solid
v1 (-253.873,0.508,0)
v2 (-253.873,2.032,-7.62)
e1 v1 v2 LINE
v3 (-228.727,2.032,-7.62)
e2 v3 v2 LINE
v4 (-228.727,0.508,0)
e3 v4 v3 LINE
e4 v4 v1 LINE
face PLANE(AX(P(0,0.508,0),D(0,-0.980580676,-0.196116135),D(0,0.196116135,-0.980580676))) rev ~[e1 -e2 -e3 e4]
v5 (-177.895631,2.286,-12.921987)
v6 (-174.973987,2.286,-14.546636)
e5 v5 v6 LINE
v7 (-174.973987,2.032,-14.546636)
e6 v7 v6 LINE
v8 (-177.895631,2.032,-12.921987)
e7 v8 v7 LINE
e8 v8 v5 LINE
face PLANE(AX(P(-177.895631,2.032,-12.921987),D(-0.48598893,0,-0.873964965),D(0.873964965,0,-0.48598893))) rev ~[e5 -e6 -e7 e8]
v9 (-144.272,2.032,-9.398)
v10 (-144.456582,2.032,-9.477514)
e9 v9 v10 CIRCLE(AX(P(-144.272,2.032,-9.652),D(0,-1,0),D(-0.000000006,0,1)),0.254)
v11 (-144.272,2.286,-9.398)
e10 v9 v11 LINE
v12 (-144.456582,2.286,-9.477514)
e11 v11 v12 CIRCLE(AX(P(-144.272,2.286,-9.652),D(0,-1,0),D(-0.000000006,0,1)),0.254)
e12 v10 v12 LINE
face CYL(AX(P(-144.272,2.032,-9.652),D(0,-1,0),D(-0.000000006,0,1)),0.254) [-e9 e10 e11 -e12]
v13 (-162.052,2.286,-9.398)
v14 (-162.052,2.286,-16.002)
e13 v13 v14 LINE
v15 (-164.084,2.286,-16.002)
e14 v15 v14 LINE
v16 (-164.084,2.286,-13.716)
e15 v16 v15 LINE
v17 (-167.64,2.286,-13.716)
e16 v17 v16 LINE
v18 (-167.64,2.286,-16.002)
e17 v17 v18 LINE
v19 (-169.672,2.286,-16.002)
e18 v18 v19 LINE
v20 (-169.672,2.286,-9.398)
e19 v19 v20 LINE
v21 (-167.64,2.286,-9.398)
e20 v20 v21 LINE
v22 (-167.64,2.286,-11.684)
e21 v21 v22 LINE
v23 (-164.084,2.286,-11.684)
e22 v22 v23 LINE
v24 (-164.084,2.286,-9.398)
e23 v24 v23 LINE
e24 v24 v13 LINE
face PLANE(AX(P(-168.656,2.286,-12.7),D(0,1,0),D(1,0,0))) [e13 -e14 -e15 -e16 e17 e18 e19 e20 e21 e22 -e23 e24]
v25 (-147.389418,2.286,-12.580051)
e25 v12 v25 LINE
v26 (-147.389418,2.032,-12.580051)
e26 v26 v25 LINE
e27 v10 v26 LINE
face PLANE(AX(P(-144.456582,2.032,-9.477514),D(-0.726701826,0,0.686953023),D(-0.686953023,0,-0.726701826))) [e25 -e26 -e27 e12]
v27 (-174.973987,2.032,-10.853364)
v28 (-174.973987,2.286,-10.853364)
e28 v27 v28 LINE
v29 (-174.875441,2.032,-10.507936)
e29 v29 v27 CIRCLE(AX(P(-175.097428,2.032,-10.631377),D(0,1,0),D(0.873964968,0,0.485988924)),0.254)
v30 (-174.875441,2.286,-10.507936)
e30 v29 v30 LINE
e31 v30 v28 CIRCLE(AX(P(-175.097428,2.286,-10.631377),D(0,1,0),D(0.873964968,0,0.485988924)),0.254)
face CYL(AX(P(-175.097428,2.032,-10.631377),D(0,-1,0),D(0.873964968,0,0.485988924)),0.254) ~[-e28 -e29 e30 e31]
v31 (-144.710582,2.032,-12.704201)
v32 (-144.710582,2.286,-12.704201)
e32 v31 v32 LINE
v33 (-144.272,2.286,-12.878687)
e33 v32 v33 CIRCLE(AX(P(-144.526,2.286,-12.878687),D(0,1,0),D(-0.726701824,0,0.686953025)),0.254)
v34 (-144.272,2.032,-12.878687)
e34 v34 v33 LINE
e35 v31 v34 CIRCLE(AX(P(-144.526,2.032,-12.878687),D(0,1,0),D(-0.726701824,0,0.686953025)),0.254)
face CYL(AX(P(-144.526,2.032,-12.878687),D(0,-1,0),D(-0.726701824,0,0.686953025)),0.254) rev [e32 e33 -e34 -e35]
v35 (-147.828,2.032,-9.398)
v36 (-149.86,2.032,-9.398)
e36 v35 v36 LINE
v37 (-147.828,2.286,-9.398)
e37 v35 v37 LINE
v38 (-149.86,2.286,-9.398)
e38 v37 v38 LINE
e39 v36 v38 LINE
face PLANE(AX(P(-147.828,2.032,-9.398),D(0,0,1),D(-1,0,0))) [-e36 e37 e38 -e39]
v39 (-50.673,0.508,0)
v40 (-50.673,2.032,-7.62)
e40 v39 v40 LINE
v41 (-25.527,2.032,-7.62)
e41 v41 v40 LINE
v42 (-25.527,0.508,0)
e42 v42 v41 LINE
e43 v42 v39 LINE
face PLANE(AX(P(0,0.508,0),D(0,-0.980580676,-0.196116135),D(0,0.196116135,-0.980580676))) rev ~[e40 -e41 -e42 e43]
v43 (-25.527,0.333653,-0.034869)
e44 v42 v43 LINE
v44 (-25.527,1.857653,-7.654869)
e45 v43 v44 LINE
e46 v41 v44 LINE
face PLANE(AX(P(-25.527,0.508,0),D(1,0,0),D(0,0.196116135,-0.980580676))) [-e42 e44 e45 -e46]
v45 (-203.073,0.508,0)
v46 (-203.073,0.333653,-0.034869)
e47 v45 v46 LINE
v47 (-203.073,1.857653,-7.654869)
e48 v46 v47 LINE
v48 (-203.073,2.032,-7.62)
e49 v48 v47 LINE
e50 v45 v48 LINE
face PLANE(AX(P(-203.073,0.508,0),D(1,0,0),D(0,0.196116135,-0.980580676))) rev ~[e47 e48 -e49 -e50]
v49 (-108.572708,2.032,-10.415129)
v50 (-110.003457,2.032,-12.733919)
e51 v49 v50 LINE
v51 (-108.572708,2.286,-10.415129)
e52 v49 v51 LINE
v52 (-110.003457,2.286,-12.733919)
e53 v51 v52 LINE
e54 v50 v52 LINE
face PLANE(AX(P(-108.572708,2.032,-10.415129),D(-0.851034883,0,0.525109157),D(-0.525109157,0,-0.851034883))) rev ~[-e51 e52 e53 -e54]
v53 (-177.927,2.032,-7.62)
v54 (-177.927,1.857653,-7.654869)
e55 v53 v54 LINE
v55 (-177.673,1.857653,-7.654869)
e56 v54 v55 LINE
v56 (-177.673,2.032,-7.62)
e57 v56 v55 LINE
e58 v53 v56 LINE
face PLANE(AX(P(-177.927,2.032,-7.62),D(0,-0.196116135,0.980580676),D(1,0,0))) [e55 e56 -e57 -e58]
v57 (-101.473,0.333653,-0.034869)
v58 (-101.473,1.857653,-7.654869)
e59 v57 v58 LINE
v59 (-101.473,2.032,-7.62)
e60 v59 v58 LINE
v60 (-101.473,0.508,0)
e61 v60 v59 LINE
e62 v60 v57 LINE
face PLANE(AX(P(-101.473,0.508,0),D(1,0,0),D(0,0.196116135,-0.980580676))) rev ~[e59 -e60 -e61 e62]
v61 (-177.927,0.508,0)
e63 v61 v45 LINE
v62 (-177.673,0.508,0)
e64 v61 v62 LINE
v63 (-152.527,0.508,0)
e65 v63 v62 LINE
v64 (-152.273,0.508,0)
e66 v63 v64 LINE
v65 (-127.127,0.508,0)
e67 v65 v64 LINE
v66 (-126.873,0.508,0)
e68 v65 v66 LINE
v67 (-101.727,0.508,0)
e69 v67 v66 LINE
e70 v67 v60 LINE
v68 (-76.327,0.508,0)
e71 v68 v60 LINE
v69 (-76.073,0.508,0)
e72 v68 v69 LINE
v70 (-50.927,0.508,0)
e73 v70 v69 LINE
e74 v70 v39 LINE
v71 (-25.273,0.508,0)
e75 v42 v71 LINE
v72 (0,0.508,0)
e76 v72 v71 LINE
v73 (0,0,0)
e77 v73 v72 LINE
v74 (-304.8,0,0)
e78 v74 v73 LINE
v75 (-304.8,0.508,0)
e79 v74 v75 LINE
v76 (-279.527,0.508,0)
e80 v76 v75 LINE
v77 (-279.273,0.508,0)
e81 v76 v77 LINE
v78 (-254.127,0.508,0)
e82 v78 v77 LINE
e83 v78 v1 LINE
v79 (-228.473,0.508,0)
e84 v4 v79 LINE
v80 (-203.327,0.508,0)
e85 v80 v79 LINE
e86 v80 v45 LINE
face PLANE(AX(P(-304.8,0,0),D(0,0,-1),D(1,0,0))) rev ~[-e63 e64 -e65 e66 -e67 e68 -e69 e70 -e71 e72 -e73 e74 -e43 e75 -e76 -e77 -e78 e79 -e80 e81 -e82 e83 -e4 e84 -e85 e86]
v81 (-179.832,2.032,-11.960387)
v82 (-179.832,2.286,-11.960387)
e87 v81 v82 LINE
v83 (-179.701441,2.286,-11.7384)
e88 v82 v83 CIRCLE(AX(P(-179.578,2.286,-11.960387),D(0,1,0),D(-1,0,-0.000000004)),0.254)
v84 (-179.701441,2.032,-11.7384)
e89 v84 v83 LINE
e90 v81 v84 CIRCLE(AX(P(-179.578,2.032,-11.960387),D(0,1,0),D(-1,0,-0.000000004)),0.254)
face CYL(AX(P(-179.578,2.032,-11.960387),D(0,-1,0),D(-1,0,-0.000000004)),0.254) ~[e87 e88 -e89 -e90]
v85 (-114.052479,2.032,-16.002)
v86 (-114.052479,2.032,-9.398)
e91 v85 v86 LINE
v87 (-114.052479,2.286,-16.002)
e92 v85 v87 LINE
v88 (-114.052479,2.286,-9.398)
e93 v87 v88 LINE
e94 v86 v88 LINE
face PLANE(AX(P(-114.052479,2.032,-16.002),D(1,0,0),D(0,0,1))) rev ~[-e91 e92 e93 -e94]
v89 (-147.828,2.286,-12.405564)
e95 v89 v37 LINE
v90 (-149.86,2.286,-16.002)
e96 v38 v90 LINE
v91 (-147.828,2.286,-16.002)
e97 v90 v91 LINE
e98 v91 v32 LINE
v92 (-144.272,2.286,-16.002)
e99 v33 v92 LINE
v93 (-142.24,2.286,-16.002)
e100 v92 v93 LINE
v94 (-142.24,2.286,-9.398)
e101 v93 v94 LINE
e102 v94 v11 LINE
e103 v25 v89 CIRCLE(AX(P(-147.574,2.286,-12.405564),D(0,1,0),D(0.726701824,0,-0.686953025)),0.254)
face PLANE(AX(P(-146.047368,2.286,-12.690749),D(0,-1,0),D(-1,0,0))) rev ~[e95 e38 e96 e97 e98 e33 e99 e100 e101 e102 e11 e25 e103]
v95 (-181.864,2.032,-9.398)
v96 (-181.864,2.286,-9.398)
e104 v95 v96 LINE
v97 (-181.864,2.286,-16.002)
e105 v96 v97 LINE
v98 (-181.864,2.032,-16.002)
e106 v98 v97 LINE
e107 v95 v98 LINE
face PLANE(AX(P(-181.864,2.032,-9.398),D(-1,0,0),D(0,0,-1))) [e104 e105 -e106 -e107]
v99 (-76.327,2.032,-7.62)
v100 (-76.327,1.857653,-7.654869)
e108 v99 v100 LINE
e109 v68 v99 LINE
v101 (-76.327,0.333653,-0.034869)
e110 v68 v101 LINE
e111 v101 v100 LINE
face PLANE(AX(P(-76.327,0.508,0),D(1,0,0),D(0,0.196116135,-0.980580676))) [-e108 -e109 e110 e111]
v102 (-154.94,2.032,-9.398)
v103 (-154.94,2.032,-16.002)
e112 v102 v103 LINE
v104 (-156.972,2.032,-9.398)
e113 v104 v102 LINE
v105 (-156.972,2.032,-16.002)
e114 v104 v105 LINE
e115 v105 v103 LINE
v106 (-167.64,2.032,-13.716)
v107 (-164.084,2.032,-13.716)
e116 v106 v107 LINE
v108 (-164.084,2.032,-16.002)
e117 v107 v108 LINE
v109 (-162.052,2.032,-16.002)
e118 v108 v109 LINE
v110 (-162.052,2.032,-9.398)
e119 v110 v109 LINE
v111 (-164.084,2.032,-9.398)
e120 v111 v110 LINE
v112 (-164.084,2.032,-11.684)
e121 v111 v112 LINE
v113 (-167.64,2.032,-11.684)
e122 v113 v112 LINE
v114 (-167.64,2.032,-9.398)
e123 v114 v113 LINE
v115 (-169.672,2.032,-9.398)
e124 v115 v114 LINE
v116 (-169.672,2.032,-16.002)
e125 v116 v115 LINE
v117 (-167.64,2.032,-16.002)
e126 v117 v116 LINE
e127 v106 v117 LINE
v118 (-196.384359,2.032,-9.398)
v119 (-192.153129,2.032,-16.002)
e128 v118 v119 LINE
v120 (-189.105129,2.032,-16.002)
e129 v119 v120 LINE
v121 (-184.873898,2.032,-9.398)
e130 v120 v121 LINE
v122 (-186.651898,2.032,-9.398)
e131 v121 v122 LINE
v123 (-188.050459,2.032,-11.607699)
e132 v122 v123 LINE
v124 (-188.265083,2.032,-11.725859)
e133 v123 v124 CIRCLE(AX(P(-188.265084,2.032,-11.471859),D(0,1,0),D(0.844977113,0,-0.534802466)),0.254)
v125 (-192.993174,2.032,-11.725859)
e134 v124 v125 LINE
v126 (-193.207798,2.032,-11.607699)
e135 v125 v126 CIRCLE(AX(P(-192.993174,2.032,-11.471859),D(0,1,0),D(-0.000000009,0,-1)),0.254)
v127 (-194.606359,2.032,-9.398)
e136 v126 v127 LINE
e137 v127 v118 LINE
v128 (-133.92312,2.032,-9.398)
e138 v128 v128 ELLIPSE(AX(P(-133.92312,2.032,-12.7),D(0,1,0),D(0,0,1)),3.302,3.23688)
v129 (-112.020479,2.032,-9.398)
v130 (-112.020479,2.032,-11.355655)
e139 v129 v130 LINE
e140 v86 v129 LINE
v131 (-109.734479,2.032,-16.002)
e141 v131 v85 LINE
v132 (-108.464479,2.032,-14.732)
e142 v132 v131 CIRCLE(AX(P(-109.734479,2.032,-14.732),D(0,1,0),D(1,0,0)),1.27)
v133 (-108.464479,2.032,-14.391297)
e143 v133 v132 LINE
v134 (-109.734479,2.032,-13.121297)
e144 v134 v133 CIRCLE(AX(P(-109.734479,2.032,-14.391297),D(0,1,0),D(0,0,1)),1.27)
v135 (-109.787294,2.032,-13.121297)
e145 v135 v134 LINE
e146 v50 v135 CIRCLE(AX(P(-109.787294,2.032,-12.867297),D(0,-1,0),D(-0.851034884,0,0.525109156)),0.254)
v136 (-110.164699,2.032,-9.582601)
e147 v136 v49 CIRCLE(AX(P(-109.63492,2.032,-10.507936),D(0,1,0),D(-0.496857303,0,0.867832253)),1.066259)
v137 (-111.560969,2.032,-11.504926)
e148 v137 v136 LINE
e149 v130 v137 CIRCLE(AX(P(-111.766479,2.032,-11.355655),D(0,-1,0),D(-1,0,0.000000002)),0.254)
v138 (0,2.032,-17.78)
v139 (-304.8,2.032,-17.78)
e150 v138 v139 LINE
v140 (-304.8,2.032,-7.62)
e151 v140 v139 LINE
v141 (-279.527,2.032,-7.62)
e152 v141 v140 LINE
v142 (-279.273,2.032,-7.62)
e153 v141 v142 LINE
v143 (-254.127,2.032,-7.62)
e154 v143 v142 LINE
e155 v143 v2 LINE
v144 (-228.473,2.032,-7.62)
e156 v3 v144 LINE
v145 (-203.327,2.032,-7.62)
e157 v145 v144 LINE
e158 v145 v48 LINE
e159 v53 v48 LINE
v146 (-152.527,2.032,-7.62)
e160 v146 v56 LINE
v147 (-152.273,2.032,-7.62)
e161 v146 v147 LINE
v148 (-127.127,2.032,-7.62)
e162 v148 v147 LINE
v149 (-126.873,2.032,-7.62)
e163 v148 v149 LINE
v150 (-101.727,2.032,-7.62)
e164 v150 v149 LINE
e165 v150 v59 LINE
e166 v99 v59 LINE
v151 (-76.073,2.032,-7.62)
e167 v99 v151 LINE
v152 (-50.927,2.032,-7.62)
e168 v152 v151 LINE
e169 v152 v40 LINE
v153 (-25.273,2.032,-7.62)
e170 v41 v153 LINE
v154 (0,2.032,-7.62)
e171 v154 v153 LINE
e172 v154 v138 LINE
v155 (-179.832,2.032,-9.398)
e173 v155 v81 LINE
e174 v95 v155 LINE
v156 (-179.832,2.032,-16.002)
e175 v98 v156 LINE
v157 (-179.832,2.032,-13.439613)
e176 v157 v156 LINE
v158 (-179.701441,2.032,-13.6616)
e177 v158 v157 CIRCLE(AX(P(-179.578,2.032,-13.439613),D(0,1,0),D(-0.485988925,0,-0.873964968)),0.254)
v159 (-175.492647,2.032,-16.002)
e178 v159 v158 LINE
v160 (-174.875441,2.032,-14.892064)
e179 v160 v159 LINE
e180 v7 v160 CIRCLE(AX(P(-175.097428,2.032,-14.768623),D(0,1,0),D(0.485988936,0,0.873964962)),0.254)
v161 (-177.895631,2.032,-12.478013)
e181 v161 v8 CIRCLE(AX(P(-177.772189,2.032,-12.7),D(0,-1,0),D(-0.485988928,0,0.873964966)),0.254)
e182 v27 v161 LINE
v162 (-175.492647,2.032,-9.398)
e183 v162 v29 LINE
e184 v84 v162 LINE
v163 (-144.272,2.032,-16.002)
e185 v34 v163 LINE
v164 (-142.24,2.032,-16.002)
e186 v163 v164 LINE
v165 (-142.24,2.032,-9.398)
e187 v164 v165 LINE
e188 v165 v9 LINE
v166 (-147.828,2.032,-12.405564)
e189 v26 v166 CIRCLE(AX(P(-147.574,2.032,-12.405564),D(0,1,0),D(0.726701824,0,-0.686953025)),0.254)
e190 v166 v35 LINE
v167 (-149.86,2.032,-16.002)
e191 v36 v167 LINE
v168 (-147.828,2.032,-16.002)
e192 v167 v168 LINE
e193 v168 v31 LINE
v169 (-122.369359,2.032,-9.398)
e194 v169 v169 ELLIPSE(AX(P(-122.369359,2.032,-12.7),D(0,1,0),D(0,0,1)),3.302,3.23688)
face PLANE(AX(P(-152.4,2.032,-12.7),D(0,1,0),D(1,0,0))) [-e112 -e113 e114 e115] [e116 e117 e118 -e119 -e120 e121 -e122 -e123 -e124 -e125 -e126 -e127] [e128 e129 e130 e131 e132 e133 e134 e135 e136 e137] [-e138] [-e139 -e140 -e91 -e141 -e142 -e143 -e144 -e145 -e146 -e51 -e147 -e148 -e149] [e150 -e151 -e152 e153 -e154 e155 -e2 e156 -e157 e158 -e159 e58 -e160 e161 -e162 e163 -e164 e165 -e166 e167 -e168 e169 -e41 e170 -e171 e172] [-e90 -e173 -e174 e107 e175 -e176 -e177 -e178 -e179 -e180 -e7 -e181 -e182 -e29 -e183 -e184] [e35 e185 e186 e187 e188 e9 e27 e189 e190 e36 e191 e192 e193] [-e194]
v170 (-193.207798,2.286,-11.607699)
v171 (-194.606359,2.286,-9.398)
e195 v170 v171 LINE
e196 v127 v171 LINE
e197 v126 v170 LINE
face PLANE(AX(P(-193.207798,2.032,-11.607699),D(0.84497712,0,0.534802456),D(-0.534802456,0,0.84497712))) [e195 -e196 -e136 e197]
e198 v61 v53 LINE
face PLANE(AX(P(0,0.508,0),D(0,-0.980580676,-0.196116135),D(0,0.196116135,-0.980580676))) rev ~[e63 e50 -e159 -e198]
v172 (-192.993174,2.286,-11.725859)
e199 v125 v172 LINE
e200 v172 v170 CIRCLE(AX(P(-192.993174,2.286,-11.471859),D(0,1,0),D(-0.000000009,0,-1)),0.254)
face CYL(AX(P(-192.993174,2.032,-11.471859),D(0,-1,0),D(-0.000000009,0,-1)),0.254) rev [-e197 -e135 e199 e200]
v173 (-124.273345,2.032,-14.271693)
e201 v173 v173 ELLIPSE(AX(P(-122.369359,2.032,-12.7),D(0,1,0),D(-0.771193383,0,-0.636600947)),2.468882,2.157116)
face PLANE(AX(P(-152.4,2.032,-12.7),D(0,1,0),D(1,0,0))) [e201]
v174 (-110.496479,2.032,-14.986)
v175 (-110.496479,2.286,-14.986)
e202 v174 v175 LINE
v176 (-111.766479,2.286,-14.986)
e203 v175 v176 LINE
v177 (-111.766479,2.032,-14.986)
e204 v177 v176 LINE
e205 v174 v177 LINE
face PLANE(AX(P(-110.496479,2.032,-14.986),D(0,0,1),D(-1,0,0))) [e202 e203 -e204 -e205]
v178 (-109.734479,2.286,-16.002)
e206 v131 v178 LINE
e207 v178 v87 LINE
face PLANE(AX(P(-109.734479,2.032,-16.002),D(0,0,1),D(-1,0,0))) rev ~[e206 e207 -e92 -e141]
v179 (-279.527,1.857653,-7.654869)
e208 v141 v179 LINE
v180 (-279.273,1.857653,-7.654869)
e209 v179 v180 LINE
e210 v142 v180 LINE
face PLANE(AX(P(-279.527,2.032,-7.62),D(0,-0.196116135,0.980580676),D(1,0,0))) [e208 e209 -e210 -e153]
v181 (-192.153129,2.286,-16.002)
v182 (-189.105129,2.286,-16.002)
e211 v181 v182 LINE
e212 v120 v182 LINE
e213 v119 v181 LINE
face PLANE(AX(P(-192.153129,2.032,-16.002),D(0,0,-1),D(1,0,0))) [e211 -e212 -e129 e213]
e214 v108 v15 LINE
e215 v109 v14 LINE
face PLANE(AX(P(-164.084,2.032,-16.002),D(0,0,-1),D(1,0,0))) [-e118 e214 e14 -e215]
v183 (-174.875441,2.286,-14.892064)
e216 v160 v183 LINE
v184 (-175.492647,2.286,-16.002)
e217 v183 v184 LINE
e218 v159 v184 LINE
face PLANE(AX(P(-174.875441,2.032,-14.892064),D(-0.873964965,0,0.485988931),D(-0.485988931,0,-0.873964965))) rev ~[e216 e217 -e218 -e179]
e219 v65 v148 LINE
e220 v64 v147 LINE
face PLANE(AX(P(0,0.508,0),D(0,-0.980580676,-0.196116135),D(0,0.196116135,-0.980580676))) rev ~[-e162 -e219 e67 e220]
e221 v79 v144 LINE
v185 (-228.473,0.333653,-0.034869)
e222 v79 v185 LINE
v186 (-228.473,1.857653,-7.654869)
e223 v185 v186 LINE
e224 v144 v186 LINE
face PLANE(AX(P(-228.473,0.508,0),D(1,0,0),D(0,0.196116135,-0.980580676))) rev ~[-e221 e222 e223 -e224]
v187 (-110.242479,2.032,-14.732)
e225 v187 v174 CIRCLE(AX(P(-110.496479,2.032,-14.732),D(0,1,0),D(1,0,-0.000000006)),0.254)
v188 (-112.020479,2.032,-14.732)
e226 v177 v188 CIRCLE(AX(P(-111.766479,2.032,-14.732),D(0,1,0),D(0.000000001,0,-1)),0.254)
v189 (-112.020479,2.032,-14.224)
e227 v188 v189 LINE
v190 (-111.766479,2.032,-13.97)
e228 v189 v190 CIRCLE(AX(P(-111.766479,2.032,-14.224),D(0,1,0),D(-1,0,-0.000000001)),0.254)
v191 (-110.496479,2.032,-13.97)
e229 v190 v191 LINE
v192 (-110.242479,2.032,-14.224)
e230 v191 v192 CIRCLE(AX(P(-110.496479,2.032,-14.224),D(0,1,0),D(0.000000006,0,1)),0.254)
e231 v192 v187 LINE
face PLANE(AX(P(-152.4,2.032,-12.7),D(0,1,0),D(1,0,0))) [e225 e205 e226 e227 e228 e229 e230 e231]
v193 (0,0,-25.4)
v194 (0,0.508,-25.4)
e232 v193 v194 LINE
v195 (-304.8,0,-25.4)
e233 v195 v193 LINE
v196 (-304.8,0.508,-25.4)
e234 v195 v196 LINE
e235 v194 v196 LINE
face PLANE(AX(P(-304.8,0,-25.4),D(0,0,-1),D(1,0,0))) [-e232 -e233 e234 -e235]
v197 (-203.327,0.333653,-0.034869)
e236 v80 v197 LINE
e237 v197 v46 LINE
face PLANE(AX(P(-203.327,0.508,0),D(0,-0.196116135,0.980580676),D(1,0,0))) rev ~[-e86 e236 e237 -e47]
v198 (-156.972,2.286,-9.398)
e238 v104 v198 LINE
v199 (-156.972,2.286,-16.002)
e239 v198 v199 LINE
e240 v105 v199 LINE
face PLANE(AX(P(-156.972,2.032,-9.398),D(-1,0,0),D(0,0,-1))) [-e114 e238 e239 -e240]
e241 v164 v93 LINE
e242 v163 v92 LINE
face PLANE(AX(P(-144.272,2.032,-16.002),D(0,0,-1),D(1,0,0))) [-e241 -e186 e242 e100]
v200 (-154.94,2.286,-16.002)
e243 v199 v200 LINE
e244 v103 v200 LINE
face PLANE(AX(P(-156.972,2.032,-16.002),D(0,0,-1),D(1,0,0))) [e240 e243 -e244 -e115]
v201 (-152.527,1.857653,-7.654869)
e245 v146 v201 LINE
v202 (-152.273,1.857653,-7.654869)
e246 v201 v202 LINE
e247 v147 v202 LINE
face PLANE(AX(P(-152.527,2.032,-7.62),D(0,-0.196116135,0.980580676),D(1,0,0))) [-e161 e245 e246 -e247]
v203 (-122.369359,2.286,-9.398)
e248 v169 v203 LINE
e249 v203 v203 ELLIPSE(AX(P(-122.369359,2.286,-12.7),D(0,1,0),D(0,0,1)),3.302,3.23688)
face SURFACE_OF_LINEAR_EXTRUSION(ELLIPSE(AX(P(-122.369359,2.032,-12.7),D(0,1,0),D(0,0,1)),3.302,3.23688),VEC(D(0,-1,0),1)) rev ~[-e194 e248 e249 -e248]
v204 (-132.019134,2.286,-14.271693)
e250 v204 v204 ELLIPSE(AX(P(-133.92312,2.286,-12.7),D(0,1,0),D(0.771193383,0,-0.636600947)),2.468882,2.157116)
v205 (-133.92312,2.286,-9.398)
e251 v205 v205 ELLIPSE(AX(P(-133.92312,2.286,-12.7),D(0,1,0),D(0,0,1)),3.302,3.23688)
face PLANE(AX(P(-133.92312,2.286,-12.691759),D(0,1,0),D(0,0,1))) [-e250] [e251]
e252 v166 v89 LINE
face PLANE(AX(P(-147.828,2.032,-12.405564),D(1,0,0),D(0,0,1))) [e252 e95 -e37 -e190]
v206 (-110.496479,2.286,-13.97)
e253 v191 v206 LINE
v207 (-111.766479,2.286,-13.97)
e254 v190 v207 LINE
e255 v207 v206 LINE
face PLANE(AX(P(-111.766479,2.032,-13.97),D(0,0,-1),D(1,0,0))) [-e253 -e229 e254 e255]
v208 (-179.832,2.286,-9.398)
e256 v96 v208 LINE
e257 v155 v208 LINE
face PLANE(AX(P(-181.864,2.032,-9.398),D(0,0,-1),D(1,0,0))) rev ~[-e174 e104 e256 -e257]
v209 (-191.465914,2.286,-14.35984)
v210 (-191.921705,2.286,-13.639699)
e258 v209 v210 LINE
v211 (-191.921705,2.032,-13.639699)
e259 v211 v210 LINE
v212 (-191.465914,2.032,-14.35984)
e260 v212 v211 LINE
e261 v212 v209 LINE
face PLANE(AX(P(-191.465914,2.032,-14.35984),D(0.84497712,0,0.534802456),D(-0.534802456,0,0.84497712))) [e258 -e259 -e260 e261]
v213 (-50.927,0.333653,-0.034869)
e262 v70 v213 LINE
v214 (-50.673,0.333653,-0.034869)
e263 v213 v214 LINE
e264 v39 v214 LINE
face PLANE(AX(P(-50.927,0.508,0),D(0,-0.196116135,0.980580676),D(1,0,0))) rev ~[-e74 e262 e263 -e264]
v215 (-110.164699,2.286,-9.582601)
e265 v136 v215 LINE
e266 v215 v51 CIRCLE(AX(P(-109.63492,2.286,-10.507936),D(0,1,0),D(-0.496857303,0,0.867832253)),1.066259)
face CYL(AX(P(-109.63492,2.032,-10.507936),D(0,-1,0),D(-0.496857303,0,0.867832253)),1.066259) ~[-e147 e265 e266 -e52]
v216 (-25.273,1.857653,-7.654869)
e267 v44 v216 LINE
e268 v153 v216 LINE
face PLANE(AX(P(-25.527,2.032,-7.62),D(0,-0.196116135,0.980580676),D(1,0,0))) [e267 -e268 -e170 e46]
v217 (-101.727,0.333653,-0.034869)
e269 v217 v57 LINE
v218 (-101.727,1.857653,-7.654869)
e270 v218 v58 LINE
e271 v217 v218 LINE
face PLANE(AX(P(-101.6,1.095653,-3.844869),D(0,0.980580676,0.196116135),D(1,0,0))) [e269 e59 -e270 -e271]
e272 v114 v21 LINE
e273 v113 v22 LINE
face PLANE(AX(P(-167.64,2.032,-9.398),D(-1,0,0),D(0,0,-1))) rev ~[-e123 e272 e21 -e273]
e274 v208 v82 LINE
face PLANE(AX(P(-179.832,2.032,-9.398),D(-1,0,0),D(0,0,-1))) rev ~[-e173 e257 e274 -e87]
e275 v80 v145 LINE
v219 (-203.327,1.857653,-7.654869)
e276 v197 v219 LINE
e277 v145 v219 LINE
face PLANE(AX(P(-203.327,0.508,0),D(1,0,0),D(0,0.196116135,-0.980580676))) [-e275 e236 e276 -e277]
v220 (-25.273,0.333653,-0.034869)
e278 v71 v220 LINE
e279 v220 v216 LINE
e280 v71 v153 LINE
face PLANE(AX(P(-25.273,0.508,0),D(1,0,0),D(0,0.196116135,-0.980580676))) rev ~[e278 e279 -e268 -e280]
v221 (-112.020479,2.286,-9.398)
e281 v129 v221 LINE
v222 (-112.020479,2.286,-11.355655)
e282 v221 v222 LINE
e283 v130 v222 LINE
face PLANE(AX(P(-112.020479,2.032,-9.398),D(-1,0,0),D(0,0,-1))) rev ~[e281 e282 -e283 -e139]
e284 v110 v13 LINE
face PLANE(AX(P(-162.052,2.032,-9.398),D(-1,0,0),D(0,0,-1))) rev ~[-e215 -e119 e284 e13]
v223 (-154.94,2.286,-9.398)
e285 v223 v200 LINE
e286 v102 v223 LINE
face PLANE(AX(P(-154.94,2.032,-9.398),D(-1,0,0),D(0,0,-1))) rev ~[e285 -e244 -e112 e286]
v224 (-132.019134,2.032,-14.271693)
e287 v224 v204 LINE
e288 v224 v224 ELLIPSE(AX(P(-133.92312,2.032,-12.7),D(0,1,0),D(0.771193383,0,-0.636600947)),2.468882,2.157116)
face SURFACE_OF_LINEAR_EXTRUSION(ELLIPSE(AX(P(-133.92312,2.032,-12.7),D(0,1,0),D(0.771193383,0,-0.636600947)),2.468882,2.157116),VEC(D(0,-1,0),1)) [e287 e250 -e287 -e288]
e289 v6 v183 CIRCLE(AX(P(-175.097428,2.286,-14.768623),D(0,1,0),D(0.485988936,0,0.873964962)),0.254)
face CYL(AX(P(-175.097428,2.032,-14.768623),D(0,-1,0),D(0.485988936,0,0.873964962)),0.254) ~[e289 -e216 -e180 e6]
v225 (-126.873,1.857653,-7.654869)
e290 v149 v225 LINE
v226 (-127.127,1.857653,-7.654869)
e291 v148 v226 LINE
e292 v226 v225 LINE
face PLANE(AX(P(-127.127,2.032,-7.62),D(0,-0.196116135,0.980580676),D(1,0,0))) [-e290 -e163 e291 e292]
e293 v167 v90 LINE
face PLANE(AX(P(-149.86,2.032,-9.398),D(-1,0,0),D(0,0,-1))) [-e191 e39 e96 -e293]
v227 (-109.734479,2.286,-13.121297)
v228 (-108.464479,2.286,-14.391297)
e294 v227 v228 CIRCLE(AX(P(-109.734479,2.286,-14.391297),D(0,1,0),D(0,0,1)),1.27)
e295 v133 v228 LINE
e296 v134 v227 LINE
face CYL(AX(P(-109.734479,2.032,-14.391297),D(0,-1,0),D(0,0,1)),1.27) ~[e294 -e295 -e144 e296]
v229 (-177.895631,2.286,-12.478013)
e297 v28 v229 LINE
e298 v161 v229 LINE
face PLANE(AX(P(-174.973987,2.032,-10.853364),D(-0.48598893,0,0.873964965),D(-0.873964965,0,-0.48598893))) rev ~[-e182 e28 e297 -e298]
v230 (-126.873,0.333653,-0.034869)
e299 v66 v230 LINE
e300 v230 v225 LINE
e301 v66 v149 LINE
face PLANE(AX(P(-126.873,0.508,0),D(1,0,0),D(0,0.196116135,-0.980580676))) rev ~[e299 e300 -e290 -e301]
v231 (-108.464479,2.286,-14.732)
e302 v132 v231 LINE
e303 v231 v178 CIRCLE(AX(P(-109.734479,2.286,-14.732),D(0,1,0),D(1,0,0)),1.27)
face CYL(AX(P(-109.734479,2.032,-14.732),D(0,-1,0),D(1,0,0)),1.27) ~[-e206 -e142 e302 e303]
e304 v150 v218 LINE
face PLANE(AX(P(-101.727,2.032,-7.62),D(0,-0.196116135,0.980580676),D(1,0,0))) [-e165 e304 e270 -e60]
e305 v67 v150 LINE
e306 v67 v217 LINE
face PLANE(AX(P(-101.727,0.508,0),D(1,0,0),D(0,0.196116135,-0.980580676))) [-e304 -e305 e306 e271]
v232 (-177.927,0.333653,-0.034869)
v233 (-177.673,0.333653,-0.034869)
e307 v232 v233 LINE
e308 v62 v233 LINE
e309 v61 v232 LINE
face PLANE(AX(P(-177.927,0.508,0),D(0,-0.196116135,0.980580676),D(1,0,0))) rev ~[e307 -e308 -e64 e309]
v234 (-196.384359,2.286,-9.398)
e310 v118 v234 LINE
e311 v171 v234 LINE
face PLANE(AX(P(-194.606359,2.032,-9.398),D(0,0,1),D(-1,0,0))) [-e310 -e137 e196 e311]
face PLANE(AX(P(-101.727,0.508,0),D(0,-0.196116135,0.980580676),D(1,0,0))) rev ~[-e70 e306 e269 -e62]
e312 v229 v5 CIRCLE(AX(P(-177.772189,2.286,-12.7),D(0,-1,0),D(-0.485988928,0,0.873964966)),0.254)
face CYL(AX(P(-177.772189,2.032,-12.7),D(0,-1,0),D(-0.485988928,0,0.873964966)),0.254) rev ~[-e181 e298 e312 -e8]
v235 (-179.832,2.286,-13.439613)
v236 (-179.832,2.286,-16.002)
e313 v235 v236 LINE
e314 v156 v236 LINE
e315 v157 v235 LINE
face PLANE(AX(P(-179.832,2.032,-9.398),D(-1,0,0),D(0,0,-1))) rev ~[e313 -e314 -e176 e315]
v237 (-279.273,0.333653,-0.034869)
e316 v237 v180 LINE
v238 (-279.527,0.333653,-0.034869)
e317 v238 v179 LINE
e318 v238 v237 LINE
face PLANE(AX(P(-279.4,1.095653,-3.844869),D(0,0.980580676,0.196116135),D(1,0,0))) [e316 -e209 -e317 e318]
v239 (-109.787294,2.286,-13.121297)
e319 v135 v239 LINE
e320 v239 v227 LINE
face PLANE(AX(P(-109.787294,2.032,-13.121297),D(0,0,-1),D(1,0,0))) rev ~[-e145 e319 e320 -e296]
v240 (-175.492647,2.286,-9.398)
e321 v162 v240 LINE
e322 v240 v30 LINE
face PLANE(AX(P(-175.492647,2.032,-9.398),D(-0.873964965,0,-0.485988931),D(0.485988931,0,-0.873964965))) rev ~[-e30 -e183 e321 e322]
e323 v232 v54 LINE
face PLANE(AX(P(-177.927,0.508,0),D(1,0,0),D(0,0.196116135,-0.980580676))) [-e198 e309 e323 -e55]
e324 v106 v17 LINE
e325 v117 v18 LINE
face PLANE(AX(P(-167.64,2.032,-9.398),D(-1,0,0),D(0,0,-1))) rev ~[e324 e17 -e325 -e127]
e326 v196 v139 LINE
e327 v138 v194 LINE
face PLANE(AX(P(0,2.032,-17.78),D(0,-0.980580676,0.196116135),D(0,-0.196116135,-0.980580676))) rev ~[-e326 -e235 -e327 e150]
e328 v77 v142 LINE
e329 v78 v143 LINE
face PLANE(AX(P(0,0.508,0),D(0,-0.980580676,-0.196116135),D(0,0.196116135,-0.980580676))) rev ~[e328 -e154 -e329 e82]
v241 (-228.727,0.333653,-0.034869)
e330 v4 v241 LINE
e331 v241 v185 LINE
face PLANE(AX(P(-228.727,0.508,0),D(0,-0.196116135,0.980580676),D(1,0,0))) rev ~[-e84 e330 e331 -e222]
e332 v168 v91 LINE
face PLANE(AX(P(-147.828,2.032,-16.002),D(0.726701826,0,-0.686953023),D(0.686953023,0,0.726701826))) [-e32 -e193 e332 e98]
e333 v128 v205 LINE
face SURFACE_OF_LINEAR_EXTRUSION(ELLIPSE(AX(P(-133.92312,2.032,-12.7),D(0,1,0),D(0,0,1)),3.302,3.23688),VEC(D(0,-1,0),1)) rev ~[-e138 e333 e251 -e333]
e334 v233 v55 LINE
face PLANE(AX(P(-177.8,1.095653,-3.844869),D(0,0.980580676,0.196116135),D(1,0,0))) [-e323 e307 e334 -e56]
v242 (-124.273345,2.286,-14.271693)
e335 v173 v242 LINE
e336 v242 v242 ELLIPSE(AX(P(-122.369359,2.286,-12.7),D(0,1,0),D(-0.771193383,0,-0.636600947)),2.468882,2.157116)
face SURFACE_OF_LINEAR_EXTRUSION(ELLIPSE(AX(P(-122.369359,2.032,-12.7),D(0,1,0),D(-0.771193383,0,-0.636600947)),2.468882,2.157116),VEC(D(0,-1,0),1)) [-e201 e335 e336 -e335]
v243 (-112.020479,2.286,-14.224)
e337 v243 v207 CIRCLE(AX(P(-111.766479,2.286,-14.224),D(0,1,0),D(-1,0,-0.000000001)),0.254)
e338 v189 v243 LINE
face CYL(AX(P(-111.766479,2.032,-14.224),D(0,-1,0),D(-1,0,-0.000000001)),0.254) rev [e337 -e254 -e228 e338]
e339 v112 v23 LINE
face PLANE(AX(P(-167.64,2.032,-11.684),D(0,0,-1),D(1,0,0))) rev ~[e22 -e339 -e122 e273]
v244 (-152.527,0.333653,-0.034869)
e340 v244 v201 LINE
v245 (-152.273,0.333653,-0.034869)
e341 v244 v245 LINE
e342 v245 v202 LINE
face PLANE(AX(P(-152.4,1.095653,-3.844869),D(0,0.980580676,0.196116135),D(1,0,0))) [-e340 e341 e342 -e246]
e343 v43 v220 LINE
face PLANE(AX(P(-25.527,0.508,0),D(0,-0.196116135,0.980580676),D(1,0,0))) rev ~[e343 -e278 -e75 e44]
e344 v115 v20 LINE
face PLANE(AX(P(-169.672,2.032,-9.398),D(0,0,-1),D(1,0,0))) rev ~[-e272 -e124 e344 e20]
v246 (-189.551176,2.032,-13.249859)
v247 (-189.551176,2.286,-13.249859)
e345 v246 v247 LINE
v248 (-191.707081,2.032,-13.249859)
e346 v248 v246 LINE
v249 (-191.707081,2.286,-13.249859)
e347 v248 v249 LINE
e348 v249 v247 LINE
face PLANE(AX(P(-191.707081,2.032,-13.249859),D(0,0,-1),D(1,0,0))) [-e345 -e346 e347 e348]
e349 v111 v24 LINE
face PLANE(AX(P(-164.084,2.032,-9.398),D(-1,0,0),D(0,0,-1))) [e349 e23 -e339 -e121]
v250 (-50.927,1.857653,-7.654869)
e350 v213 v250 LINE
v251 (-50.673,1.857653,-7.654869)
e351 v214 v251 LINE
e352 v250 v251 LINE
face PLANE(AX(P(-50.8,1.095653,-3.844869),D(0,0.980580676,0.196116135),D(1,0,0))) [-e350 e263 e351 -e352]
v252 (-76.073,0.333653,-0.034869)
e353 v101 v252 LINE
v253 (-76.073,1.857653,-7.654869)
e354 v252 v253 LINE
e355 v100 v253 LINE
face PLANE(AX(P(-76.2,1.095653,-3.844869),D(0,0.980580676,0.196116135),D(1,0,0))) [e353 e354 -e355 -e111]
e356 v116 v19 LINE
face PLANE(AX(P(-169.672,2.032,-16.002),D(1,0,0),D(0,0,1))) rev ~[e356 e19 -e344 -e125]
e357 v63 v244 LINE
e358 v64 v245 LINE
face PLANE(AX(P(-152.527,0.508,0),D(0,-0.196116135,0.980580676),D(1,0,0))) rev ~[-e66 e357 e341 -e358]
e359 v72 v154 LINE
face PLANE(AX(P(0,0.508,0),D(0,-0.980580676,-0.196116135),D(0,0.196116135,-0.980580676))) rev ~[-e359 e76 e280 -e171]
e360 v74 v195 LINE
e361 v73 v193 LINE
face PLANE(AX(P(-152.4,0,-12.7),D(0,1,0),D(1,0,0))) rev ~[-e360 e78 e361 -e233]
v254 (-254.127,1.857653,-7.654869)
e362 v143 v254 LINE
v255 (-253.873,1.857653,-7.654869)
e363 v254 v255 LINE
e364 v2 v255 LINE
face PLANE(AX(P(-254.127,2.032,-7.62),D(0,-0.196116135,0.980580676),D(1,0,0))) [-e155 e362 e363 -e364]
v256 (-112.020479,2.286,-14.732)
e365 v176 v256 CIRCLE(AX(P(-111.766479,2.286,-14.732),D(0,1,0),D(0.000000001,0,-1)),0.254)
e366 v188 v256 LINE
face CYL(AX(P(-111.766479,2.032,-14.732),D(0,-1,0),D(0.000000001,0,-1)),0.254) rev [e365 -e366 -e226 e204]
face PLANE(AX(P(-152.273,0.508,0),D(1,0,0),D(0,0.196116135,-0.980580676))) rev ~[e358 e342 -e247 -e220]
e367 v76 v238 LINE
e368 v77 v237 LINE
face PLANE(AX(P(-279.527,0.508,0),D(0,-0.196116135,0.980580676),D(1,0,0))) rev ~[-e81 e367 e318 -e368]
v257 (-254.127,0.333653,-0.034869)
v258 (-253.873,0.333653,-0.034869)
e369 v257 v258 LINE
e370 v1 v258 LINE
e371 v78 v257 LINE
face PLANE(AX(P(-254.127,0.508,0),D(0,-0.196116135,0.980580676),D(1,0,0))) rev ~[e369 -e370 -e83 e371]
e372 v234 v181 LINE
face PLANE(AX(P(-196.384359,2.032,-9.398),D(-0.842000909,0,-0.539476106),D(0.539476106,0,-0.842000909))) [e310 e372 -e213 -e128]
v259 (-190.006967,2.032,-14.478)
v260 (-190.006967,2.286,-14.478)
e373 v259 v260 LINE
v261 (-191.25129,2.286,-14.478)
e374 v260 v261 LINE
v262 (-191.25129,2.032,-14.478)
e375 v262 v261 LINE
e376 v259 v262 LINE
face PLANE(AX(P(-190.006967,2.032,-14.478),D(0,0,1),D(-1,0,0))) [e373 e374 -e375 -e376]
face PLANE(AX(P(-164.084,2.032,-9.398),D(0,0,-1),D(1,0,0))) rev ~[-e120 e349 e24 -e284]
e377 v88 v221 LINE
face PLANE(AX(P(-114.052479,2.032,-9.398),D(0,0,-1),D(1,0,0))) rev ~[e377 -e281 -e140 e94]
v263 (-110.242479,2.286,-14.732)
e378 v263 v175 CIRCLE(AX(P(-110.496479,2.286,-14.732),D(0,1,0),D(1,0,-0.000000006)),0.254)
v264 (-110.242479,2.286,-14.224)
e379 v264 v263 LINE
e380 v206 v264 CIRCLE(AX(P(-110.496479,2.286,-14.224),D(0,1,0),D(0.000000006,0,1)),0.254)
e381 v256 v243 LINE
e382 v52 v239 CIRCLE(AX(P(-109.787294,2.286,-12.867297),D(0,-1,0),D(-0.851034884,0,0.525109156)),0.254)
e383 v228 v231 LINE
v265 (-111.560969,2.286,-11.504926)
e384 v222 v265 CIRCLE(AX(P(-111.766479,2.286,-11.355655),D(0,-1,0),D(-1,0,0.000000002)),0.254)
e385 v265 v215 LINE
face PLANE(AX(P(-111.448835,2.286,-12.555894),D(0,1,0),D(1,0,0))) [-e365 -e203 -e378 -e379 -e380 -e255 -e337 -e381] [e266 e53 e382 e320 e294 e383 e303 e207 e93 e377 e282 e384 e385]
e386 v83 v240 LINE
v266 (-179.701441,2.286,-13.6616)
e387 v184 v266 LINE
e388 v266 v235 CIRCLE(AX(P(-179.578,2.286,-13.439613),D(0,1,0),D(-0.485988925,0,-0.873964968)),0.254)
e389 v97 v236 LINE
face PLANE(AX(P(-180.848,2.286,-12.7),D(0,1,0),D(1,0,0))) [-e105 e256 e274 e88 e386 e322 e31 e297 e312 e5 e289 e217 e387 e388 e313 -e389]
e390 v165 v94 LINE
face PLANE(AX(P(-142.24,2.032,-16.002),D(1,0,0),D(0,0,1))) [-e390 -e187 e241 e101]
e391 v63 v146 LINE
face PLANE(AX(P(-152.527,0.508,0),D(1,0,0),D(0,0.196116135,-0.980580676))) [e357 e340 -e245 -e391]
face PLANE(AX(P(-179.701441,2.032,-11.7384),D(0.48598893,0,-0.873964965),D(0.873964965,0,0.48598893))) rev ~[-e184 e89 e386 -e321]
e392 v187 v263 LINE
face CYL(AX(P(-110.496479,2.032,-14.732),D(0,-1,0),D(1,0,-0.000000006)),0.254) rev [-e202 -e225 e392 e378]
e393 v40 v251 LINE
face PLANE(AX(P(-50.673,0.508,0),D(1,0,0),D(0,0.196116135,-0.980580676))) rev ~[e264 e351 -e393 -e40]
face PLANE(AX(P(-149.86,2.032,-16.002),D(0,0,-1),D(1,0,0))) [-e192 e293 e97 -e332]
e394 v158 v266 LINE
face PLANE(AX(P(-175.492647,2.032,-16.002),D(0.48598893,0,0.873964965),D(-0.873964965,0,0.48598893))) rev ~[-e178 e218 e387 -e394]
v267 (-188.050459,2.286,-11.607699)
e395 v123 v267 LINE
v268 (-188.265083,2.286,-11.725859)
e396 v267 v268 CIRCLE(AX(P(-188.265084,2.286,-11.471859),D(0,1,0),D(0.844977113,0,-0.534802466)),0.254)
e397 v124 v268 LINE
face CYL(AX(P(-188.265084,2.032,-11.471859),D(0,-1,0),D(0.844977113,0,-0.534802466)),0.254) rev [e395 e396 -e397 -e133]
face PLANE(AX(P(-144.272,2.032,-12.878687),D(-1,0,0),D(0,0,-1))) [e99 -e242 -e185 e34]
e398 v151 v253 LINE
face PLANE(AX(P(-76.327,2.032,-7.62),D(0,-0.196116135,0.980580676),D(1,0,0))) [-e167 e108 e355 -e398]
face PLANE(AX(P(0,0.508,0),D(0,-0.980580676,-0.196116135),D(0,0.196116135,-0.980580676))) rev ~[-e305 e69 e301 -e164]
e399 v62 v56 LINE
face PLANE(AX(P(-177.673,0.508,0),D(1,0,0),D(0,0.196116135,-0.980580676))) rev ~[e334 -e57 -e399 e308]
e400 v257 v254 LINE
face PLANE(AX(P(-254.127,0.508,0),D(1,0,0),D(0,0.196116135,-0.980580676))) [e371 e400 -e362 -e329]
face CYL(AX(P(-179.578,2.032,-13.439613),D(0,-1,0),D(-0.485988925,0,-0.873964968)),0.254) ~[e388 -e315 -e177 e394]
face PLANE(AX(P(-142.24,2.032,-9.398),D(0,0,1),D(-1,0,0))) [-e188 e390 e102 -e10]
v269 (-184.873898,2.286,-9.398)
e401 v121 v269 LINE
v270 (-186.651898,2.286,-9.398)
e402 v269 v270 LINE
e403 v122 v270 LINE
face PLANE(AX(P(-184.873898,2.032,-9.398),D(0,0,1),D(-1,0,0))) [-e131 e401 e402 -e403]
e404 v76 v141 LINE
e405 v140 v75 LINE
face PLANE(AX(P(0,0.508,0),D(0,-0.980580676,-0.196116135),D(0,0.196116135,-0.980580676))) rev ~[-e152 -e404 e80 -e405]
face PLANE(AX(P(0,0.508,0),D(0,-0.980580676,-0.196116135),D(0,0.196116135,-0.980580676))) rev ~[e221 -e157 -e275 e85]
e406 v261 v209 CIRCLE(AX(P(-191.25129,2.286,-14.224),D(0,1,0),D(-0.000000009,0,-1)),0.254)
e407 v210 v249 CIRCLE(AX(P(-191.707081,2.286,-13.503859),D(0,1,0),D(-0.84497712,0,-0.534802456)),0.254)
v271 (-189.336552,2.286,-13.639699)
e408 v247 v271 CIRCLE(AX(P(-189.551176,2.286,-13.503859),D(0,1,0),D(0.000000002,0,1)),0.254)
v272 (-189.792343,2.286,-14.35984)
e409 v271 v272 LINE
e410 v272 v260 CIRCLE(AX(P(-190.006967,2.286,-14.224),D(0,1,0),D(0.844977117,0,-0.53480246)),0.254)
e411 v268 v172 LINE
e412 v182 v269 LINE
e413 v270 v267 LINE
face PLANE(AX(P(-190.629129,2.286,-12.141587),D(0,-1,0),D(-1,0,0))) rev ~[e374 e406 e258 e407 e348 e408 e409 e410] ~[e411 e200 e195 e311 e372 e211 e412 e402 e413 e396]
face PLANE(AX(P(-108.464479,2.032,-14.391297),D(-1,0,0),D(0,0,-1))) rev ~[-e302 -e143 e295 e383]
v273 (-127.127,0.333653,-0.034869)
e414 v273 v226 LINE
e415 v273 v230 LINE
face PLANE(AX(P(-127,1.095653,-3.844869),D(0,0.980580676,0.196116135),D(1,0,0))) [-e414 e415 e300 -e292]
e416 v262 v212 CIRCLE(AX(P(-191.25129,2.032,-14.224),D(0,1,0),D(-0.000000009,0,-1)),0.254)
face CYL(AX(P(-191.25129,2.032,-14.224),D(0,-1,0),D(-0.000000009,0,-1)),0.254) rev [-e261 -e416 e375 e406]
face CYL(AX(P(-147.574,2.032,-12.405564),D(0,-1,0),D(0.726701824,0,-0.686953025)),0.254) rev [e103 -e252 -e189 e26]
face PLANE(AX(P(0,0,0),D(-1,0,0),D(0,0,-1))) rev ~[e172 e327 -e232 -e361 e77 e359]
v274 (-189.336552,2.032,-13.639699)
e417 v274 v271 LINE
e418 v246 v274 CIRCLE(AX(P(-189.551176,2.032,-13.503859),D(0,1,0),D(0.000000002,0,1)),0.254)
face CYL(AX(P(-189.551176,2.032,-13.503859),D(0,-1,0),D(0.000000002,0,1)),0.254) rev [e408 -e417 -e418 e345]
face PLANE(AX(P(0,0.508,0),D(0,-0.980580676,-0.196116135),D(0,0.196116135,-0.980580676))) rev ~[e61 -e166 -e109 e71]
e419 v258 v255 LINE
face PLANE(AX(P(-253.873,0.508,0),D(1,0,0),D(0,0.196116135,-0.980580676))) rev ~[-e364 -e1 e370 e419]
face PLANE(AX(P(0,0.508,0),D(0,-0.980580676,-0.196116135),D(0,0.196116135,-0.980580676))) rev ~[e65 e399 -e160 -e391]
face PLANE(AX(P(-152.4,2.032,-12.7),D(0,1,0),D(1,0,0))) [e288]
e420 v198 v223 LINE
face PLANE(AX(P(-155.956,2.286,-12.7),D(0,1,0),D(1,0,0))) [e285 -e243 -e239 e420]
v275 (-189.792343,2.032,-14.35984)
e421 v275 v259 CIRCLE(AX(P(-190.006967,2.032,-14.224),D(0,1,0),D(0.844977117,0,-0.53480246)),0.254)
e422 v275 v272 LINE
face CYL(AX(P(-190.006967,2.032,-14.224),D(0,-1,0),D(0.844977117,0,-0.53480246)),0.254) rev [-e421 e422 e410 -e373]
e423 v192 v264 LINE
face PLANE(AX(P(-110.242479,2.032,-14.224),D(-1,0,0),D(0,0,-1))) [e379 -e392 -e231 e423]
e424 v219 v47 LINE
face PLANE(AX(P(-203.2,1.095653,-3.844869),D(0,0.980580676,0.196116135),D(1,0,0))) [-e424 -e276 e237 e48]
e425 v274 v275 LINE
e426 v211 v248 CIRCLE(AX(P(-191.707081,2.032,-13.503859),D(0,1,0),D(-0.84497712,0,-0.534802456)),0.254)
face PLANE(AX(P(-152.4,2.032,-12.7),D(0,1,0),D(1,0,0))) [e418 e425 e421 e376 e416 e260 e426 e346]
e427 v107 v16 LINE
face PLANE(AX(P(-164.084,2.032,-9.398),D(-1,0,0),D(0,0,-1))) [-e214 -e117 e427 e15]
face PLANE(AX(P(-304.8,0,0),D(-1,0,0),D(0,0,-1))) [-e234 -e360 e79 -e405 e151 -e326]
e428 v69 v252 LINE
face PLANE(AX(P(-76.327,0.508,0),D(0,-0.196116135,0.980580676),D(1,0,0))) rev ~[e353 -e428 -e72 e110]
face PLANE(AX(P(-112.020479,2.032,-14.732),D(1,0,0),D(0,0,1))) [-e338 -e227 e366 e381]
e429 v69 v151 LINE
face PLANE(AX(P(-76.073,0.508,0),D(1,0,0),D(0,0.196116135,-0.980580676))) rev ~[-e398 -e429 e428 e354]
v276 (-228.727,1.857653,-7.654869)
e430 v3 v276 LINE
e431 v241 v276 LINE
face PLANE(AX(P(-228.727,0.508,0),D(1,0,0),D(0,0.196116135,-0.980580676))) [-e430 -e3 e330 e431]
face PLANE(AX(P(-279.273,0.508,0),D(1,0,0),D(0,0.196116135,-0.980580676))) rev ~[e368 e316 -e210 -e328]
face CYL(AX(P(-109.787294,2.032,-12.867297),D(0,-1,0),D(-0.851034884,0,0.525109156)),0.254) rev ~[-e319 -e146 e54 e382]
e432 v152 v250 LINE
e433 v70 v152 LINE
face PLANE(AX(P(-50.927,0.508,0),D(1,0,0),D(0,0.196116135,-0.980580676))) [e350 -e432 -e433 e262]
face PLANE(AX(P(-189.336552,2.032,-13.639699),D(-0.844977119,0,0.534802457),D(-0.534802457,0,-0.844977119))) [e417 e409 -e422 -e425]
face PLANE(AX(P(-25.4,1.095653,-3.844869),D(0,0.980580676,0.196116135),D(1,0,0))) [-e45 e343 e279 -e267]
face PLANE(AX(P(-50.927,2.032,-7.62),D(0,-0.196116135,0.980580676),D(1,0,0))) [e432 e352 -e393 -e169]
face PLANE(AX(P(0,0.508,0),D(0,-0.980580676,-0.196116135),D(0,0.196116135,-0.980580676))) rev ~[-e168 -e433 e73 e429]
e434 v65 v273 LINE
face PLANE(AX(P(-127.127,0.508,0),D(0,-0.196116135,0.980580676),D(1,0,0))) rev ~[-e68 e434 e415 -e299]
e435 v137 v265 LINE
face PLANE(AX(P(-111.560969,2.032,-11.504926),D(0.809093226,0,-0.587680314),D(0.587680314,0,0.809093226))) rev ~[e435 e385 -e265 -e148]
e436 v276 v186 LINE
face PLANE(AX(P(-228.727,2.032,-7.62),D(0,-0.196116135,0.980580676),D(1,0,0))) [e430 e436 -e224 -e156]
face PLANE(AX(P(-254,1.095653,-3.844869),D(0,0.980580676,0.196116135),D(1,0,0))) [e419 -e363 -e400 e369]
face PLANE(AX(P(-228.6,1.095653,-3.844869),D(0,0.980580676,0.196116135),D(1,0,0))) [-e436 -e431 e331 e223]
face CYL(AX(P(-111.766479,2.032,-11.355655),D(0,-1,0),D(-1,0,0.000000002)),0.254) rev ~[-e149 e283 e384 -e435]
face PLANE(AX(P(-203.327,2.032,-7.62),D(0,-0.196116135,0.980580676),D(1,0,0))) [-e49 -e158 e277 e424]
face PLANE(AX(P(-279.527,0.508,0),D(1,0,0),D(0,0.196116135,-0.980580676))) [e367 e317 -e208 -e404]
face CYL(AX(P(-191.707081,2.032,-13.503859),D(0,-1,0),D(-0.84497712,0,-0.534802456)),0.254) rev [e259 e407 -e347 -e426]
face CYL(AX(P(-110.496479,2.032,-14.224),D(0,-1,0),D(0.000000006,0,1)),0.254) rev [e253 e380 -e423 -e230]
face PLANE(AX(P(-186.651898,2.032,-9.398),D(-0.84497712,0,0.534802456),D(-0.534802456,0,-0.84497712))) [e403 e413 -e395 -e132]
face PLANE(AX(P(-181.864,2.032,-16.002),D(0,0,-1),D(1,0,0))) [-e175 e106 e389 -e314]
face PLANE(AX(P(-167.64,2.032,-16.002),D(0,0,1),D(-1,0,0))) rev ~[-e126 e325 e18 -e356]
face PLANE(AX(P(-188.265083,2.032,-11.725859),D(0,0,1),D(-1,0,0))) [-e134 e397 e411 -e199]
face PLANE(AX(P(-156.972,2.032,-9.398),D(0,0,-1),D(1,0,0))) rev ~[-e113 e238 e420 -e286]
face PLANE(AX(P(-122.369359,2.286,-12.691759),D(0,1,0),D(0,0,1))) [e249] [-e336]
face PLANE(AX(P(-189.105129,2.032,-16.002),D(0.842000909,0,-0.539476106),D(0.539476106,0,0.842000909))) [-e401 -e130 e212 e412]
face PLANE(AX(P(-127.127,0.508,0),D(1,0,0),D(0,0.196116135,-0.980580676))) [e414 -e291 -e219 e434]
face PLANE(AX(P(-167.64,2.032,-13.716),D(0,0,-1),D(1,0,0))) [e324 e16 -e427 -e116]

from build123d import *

# Parameters (mm, degrees)
SKETCH1_W           = 304.8
SKETCH1_H           = 25.4
BOSS_EXTRUDE1_DEPTH = 2.032
SKETCH2_OUTSIDE_W   = 88.572
SKETCH2_OUTSIDE_H   = 65.204
CUT_EXTRUDE2_DEPTH  = 306.863252163
SKETCH4_W           = 2.032
SKETCH4_H           = 6.604
SKETCH4_W_2         = 3.556
SKETCH4_H_2         = 2.032
SKETCH4_RX          = 3.302
SKETCH4_RY          = 3.236880332
SKETCH4_RX_2        = 2.468882323
SKETCH4_RY_2        = 2.157115795
BOSS_EXTRUDE2_DEPTH = 0.254
SKETCH5_W           = 0.254
SKETCH5_H           = 7.770905738
CUT_EXTRUDE9_DEPTH  = 0.1778


with BuildPart() as part:
    # Sketch1 → Boss-Extrude1 (new body)
    with BuildSketch(Plane(origin=(0, 0, 0), x_dir=(1, 0, 0), z_dir=(0, 1, 0))):
        with Locations((-152.4, 12.7)):
            Rectangle(SKETCH1_W, SKETCH1_H)
    extrude(amount=BOSS_EXTRUDE1_DEPTH)

    # Sketch2 outside → Cut-Extrude2 (cut, through all)
    with BuildSketch(Plane(origin=(0, 0, 0), x_dir=(0, 0, -1), z_dir=(1, 0, 0))):
        with Locations((12.7, 1.016)):
            Rectangle(SKETCH2_OUTSIDE_W, SKETCH2_OUTSIDE_H)
        Polygon((0, 0.508), (7.62, 2.032), (12.7, 2.032), (17.78, 2.032), (25.4, 0.508), (25.4, 0), (0, 0), align=None, mode=Mode.SUBTRACT)
    extrude(amount=-CUT_EXTRUDE2_DEPTH, mode=Mode.SUBTRACT)

    # Sketch4 → Boss-Extrude2 (add)
    # profile 1 of 11: a face of its own
    with BuildSketch(Plane(origin=(0, 2.032, 0), x_dir=(1, 0, 0), z_dir=(0, 1, 0))):
        with Locations((-180.848, 12.7)):
            Rectangle(SKETCH4_W, SKETCH4_H)
    # profile 2 of 11: a face of its own
    with BuildSketch(Plane(origin=(0, 2.032, 0), x_dir=(1, 0, 0), z_dir=(0, 1, 0))):
        with BuildLine():
            ThreePointArc((-179.701441188, 13.661600321), (-179.796940702, 13.568380332), (-179.832, 13.43961322))
            Line((-179.832, 13.43961322), (-179.832, 12.7))
            Line((-179.832, 12.7), (-179.832, 11.96038678))
            ThreePointArc((-179.832, 11.96038678), (-179.796940702, 11.831619668), (-179.701441188, 11.738399679))
            Line((-179.701441188, 11.738399679), (-175.49264713, 9.398))
            Line((-175.49264713, 9.398), (-174.875441188, 10.507935505))
            ThreePointArc((-174.875441188, 10.507935505), (-174.853173604, 10.701059177), (-174.973987101, 10.853363795))
            Line((-174.973987101, 10.853363795), (-177.895630596, 12.478012899))
            ThreePointArc((-177.895630596, 12.478012899), (-178.026189408, 12.7), (-177.895630596, 12.921987101))
            Line((-177.895630596, 12.921987101), (-174.973987101, 14.546636205))
            ThreePointArc((-174.973987101, 14.546636205), (-174.853173604, 14.698940823), (-174.875441188, 14.892064495))
            Line((-174.875441188, 14.892064495), (-175.49264713, 16.002))
            Line((-175.49264713, 16.002), (-179.701441188, 13.661600321))
        make_face()
    # profile 3 of 11: a face of its own
    with BuildSketch(Plane(origin=(0, 2.032, 0), x_dir=(1, 0, 0), z_dir=(0, 1, 0))):
        Polygon((-167.64, 11.684), (-167.64, 13.716), (-167.64, 16.002), (-169.672, 16.002), (-169.672, 9.398), (-167.64, 9.398), align=None)
    # profile 4 of 11: a face of its own
    with BuildSketch(Plane(origin=(0, 2.032, 0), x_dir=(1, 0, 0), z_dir=(0, 1, 0))):
        with Locations((-163.068, 12.7)):
            Rectangle(SKETCH4_W, SKETCH4_H)
    # profile 5 of 11: a face of its own
    with BuildSketch(Plane(origin=(0, 2.032, 0), x_dir=(1, 0, 0), z_dir=(0, 1, 0))):
        with Locations((-165.862, 12.7)):
            Rectangle(SKETCH4_W_2, SKETCH4_H_2)
    # profile 6 of 11: a face of its own
    with BuildSketch(Plane(origin=(0, 2.032, 0), x_dir=(1, 0, 0), z_dir=(0, 1, 0))):
        with Locations((-155.956, 12.7)):
            Rectangle(SKETCH4_W, SKETCH4_H)
    # profile 7 of 11: a face of its own
    with BuildSketch(Plane(origin=(0, 2.032, 0), x_dir=(1, 0, 0), z_dir=(0, 1, 0))):
        with BuildLine():
            ThreePointArc((-144.710582264, 12.704200751), (-144.432106164, 12.642678456), (-144.272, 12.878686819))
            Line((-144.272, 12.878686819), (-144.272, 16.002))
            Line((-144.272, 16.002), (-142.24, 16.002))
            Line((-142.24, 16.002), (-142.24, 9.398))
            Line((-142.24, 9.398), (-144.272, 9.398))
            ThreePointArc((-144.272, 9.398), (-144.372490146, 9.418723918), (-144.456582264, 9.477513932))
            Line((-144.456582264, 9.477513932), (-147.389417736, 12.58005053))
            ThreePointArc((-147.389417736, 12.58005053), (-147.667893836, 12.641572825), (-147.828, 12.405564462))
            Line((-147.828, 12.405564462), (-147.828, 9.398))
            Line((-147.828, 9.398), (-149.86, 9.398))
            Line((-149.86, 9.398), (-149.86, 16.002))
            Line((-149.86, 16.002), (-147.828, 16.002))
            Line((-147.828, 16.002), (-144.710582264, 12.704200751))
        make_face()
    # profile 8 of 11: a face of its own
    with BuildSketch(Plane(origin=(0, 2.032, 0), x_dir=(1, 0, 0), z_dir=(0, 1, 0))):
        with Locations(Location((-133.923119668, 12.7), (0, 0, -90))):
            Ellipse(SKETCH4_RX, SKETCH4_RY)
        with Locations(Location((-133.923119668, 12.7), (0, 0, 39.538825136))):
            Ellipse(SKETCH4_RX_2, SKETCH4_RY_2, mode=Mode.SUBTRACT)
    # profile 9 of 11: a face of its own
    with BuildSketch(Plane(origin=(0, 2.032, 0), x_dir=(1, 0, 0), z_dir=(0, 1, 0))):
        with Locations(Location((-122.369359004, 12.7), (0, 0, -90))):
            Ellipse(SKETCH4_RX, SKETCH4_RY)
        with Locations(Location((-122.369359004, 12.7), (0, 0, 140.461174864))):
            Ellipse(SKETCH4_RX_2, SKETCH4_RY_2, mode=Mode.SUBTRACT)
    # profile 10 of 11: a face of its own
    with BuildSketch(Plane(origin=(0, 2.032, 0), x_dir=(1, 0, 0), z_dir=(0, 1, 0))):
        with BuildLine():
            Line((-111.560968993, 11.504926098), (-110.164699128, 9.582601219))
            ThreePointArc((-110.164699128, 9.582601219), (-109.140807711, 9.563074793), (-108.572707527, 10.415129425))
            Line((-108.572707527, 10.415129425), (-110.003457223, 12.733919497))
            ThreePointArc((-110.003457223, 12.733919497), (-110.009098265, 12.991067287), (-109.787294363, 13.121297223))
            Line((-109.787294363, 13.121297223), (-109.734478672, 13.121297223))
            ThreePointArc((-109.734478672, 13.121297223), (-108.83645306, 13.493271611), (-108.464478672, 14.391297223))
            Line((-108.464478672, 14.391297223), (-108.464478672, 14.732))
            ThreePointArc((-108.464478672, 14.732), (-108.83645306, 15.630025612), (-109.734478672, 16.002))
            Line((-109.734478672, 16.002), (-111.135692822, 16.002))
            Line((-111.135692822, 16.002), (-114.052478672, 16.002))
            Line((-114.052478672, 16.002), (-114.052478672, 9.398))
            Line((-114.052478672, 9.398), (-112.020478672, 9.398))
            Line((-112.020478672, 9.398), (-112.020478672, 11.355655298))
            ThreePointArc((-112.020478672, 11.355655298), (-111.844953323, 11.597228743), (-111.560968993, 11.504926098))
        make_face()
        with BuildLine():
            Line((-110.242478672, 14.224), (-110.242478672, 14.732))
            ThreePointArc((-110.242478672, 14.732), (-110.31687355, 14.911605122), (-110.496478672, 14.986))
            Line((-110.496478672, 14.986), (-111.766478672, 14.986))
            ThreePointArc((-111.766478672, 14.986), (-111.946083795, 14.911605122), (-112.020478672, 14.732))
            Line((-112.020478672, 14.732), (-112.020478672, 14.224))
            ThreePointArc((-112.020478672, 14.224), (-111.946083795, 14.044394878), (-111.766478672, 13.97))
            Line((-111.766478672, 13.97), (-110.496478672, 13.97))
            ThreePointArc((-110.496478672, 13.97), (-110.31687355, 14.044394878), (-110.242478672, 14.224))
        make_face(mode=Mode.SUBTRACT)
    # profile 11 of 11: a face of its own
    with BuildSketch(Plane(origin=(0, 2.032, 0), x_dir=(1, 0, 0), z_dir=(0, 1, 0))):
        with BuildLine():
            ThreePointArc((-188.050459309, 11.607699185), (-188.142583121, 11.694367018), (-188.265083498, 11.725859361))
            Line((-188.265083498, 11.725859361), (-192.993173567, 11.725859361))
            ThreePointArc((-192.993173567, 11.725859361), (-193.115673944, 11.694367018), (-193.207797756, 11.607699185))
            Line((-193.207797756, 11.607699185), (-194.606359356, 9.398))
            Line((-194.606359356, 9.398), (-196.384359356, 9.398))
            Line((-196.384359356, 9.398), (-192.153128533, 16.002))
            Line((-192.153128533, 16.002), (-190.629128533, 16.002))
            Line((-190.629128533, 16.002), (-189.105128533, 16.002))
            Line((-189.105128533, 16.002), (-184.873897709, 9.398))
            Line((-184.873897709, 9.398), (-186.651897709, 9.398))
            Line((-186.651897709, 9.398), (-188.050459309, 11.607699185))
        make_face()
        with BuildLine():
            ThreePointArc((-189.551175827, 13.249859361), (-189.32866817, 13.381358984), (-189.336551639, 13.639699185))
            Line((-189.336551639, 13.639699185), (-189.792342659, 14.359839824))
            ThreePointArc((-189.792342659, 14.359839824), (-189.88446647, 14.446507657), (-190.006966847, 14.478))
            Line((-190.006966847, 14.478), (-191.251290218, 14.478))
            ThreePointArc((-191.251290218, 14.478), (-191.373790595, 14.446507657), (-191.465914407, 14.359839824))
            Line((-191.465914407, 14.359839824), (-191.921705426, 13.639699185))
            ThreePointArc((-191.921705426, 13.639699185), (-191.929588895, 13.381358984), (-191.707081238, 13.249859361))
            Line((-191.707081238, 13.249859361), (-189.551175827, 13.249859361))
        make_face(mode=Mode.SUBTRACT)
    extrude(amount=BOSS_EXTRUDE2_DEPTH)

    # Sketch5 → Cut-Extrude9 (cut)
    with BuildSketch(Plane(origin=(0, 0.488461538, 0.097692308), x_dir=(1, 0, 0), z_dir=(0, 0.9805806756909202, 0.19611613513818354))):
        with Locations((-127, 3.985079866)):
            Rectangle(SKETCH5_W, SKETCH5_H)
        with Locations((-228.6, 3.985079866)):
            Rectangle(SKETCH5_W, SKETCH5_H)
        with Locations((-203.2, 3.985079866)):
            Rectangle(SKETCH5_W, SKETCH5_H)
        with Locations((-76.2, 3.985079866)):
            Rectangle(SKETCH5_W, SKETCH5_H)
        with Locations((-177.8, 3.985079866)):
            Rectangle(SKETCH5_W, SKETCH5_H)
        with Locations((-50.8, 3.985079866)):
            Rectangle(SKETCH5_W, SKETCH5_H)
        with Locations((-25.4, 3.985079866)):
            Rectangle(SKETCH5_W, SKETCH5_H)
        with Locations((-101.6, 3.985079866)):
            Rectangle(SKETCH5_W, SKETCH5_H)
        with Locations((-152.4, 3.985079866)):
            Rectangle(SKETCH5_W, SKETCH5_H)
        with Locations((-279.4, 3.985079866)):
            Rectangle(SKETCH5_W, SKETCH5_H)
        with Locations((-254, 3.985079866)):
            Rectangle(SKETCH5_W, SKETCH5_H)
    extrude(amount=-CUT_EXTRUDE9_DEPTH, mode=Mode.SUBTRACT)


solid = part.part
